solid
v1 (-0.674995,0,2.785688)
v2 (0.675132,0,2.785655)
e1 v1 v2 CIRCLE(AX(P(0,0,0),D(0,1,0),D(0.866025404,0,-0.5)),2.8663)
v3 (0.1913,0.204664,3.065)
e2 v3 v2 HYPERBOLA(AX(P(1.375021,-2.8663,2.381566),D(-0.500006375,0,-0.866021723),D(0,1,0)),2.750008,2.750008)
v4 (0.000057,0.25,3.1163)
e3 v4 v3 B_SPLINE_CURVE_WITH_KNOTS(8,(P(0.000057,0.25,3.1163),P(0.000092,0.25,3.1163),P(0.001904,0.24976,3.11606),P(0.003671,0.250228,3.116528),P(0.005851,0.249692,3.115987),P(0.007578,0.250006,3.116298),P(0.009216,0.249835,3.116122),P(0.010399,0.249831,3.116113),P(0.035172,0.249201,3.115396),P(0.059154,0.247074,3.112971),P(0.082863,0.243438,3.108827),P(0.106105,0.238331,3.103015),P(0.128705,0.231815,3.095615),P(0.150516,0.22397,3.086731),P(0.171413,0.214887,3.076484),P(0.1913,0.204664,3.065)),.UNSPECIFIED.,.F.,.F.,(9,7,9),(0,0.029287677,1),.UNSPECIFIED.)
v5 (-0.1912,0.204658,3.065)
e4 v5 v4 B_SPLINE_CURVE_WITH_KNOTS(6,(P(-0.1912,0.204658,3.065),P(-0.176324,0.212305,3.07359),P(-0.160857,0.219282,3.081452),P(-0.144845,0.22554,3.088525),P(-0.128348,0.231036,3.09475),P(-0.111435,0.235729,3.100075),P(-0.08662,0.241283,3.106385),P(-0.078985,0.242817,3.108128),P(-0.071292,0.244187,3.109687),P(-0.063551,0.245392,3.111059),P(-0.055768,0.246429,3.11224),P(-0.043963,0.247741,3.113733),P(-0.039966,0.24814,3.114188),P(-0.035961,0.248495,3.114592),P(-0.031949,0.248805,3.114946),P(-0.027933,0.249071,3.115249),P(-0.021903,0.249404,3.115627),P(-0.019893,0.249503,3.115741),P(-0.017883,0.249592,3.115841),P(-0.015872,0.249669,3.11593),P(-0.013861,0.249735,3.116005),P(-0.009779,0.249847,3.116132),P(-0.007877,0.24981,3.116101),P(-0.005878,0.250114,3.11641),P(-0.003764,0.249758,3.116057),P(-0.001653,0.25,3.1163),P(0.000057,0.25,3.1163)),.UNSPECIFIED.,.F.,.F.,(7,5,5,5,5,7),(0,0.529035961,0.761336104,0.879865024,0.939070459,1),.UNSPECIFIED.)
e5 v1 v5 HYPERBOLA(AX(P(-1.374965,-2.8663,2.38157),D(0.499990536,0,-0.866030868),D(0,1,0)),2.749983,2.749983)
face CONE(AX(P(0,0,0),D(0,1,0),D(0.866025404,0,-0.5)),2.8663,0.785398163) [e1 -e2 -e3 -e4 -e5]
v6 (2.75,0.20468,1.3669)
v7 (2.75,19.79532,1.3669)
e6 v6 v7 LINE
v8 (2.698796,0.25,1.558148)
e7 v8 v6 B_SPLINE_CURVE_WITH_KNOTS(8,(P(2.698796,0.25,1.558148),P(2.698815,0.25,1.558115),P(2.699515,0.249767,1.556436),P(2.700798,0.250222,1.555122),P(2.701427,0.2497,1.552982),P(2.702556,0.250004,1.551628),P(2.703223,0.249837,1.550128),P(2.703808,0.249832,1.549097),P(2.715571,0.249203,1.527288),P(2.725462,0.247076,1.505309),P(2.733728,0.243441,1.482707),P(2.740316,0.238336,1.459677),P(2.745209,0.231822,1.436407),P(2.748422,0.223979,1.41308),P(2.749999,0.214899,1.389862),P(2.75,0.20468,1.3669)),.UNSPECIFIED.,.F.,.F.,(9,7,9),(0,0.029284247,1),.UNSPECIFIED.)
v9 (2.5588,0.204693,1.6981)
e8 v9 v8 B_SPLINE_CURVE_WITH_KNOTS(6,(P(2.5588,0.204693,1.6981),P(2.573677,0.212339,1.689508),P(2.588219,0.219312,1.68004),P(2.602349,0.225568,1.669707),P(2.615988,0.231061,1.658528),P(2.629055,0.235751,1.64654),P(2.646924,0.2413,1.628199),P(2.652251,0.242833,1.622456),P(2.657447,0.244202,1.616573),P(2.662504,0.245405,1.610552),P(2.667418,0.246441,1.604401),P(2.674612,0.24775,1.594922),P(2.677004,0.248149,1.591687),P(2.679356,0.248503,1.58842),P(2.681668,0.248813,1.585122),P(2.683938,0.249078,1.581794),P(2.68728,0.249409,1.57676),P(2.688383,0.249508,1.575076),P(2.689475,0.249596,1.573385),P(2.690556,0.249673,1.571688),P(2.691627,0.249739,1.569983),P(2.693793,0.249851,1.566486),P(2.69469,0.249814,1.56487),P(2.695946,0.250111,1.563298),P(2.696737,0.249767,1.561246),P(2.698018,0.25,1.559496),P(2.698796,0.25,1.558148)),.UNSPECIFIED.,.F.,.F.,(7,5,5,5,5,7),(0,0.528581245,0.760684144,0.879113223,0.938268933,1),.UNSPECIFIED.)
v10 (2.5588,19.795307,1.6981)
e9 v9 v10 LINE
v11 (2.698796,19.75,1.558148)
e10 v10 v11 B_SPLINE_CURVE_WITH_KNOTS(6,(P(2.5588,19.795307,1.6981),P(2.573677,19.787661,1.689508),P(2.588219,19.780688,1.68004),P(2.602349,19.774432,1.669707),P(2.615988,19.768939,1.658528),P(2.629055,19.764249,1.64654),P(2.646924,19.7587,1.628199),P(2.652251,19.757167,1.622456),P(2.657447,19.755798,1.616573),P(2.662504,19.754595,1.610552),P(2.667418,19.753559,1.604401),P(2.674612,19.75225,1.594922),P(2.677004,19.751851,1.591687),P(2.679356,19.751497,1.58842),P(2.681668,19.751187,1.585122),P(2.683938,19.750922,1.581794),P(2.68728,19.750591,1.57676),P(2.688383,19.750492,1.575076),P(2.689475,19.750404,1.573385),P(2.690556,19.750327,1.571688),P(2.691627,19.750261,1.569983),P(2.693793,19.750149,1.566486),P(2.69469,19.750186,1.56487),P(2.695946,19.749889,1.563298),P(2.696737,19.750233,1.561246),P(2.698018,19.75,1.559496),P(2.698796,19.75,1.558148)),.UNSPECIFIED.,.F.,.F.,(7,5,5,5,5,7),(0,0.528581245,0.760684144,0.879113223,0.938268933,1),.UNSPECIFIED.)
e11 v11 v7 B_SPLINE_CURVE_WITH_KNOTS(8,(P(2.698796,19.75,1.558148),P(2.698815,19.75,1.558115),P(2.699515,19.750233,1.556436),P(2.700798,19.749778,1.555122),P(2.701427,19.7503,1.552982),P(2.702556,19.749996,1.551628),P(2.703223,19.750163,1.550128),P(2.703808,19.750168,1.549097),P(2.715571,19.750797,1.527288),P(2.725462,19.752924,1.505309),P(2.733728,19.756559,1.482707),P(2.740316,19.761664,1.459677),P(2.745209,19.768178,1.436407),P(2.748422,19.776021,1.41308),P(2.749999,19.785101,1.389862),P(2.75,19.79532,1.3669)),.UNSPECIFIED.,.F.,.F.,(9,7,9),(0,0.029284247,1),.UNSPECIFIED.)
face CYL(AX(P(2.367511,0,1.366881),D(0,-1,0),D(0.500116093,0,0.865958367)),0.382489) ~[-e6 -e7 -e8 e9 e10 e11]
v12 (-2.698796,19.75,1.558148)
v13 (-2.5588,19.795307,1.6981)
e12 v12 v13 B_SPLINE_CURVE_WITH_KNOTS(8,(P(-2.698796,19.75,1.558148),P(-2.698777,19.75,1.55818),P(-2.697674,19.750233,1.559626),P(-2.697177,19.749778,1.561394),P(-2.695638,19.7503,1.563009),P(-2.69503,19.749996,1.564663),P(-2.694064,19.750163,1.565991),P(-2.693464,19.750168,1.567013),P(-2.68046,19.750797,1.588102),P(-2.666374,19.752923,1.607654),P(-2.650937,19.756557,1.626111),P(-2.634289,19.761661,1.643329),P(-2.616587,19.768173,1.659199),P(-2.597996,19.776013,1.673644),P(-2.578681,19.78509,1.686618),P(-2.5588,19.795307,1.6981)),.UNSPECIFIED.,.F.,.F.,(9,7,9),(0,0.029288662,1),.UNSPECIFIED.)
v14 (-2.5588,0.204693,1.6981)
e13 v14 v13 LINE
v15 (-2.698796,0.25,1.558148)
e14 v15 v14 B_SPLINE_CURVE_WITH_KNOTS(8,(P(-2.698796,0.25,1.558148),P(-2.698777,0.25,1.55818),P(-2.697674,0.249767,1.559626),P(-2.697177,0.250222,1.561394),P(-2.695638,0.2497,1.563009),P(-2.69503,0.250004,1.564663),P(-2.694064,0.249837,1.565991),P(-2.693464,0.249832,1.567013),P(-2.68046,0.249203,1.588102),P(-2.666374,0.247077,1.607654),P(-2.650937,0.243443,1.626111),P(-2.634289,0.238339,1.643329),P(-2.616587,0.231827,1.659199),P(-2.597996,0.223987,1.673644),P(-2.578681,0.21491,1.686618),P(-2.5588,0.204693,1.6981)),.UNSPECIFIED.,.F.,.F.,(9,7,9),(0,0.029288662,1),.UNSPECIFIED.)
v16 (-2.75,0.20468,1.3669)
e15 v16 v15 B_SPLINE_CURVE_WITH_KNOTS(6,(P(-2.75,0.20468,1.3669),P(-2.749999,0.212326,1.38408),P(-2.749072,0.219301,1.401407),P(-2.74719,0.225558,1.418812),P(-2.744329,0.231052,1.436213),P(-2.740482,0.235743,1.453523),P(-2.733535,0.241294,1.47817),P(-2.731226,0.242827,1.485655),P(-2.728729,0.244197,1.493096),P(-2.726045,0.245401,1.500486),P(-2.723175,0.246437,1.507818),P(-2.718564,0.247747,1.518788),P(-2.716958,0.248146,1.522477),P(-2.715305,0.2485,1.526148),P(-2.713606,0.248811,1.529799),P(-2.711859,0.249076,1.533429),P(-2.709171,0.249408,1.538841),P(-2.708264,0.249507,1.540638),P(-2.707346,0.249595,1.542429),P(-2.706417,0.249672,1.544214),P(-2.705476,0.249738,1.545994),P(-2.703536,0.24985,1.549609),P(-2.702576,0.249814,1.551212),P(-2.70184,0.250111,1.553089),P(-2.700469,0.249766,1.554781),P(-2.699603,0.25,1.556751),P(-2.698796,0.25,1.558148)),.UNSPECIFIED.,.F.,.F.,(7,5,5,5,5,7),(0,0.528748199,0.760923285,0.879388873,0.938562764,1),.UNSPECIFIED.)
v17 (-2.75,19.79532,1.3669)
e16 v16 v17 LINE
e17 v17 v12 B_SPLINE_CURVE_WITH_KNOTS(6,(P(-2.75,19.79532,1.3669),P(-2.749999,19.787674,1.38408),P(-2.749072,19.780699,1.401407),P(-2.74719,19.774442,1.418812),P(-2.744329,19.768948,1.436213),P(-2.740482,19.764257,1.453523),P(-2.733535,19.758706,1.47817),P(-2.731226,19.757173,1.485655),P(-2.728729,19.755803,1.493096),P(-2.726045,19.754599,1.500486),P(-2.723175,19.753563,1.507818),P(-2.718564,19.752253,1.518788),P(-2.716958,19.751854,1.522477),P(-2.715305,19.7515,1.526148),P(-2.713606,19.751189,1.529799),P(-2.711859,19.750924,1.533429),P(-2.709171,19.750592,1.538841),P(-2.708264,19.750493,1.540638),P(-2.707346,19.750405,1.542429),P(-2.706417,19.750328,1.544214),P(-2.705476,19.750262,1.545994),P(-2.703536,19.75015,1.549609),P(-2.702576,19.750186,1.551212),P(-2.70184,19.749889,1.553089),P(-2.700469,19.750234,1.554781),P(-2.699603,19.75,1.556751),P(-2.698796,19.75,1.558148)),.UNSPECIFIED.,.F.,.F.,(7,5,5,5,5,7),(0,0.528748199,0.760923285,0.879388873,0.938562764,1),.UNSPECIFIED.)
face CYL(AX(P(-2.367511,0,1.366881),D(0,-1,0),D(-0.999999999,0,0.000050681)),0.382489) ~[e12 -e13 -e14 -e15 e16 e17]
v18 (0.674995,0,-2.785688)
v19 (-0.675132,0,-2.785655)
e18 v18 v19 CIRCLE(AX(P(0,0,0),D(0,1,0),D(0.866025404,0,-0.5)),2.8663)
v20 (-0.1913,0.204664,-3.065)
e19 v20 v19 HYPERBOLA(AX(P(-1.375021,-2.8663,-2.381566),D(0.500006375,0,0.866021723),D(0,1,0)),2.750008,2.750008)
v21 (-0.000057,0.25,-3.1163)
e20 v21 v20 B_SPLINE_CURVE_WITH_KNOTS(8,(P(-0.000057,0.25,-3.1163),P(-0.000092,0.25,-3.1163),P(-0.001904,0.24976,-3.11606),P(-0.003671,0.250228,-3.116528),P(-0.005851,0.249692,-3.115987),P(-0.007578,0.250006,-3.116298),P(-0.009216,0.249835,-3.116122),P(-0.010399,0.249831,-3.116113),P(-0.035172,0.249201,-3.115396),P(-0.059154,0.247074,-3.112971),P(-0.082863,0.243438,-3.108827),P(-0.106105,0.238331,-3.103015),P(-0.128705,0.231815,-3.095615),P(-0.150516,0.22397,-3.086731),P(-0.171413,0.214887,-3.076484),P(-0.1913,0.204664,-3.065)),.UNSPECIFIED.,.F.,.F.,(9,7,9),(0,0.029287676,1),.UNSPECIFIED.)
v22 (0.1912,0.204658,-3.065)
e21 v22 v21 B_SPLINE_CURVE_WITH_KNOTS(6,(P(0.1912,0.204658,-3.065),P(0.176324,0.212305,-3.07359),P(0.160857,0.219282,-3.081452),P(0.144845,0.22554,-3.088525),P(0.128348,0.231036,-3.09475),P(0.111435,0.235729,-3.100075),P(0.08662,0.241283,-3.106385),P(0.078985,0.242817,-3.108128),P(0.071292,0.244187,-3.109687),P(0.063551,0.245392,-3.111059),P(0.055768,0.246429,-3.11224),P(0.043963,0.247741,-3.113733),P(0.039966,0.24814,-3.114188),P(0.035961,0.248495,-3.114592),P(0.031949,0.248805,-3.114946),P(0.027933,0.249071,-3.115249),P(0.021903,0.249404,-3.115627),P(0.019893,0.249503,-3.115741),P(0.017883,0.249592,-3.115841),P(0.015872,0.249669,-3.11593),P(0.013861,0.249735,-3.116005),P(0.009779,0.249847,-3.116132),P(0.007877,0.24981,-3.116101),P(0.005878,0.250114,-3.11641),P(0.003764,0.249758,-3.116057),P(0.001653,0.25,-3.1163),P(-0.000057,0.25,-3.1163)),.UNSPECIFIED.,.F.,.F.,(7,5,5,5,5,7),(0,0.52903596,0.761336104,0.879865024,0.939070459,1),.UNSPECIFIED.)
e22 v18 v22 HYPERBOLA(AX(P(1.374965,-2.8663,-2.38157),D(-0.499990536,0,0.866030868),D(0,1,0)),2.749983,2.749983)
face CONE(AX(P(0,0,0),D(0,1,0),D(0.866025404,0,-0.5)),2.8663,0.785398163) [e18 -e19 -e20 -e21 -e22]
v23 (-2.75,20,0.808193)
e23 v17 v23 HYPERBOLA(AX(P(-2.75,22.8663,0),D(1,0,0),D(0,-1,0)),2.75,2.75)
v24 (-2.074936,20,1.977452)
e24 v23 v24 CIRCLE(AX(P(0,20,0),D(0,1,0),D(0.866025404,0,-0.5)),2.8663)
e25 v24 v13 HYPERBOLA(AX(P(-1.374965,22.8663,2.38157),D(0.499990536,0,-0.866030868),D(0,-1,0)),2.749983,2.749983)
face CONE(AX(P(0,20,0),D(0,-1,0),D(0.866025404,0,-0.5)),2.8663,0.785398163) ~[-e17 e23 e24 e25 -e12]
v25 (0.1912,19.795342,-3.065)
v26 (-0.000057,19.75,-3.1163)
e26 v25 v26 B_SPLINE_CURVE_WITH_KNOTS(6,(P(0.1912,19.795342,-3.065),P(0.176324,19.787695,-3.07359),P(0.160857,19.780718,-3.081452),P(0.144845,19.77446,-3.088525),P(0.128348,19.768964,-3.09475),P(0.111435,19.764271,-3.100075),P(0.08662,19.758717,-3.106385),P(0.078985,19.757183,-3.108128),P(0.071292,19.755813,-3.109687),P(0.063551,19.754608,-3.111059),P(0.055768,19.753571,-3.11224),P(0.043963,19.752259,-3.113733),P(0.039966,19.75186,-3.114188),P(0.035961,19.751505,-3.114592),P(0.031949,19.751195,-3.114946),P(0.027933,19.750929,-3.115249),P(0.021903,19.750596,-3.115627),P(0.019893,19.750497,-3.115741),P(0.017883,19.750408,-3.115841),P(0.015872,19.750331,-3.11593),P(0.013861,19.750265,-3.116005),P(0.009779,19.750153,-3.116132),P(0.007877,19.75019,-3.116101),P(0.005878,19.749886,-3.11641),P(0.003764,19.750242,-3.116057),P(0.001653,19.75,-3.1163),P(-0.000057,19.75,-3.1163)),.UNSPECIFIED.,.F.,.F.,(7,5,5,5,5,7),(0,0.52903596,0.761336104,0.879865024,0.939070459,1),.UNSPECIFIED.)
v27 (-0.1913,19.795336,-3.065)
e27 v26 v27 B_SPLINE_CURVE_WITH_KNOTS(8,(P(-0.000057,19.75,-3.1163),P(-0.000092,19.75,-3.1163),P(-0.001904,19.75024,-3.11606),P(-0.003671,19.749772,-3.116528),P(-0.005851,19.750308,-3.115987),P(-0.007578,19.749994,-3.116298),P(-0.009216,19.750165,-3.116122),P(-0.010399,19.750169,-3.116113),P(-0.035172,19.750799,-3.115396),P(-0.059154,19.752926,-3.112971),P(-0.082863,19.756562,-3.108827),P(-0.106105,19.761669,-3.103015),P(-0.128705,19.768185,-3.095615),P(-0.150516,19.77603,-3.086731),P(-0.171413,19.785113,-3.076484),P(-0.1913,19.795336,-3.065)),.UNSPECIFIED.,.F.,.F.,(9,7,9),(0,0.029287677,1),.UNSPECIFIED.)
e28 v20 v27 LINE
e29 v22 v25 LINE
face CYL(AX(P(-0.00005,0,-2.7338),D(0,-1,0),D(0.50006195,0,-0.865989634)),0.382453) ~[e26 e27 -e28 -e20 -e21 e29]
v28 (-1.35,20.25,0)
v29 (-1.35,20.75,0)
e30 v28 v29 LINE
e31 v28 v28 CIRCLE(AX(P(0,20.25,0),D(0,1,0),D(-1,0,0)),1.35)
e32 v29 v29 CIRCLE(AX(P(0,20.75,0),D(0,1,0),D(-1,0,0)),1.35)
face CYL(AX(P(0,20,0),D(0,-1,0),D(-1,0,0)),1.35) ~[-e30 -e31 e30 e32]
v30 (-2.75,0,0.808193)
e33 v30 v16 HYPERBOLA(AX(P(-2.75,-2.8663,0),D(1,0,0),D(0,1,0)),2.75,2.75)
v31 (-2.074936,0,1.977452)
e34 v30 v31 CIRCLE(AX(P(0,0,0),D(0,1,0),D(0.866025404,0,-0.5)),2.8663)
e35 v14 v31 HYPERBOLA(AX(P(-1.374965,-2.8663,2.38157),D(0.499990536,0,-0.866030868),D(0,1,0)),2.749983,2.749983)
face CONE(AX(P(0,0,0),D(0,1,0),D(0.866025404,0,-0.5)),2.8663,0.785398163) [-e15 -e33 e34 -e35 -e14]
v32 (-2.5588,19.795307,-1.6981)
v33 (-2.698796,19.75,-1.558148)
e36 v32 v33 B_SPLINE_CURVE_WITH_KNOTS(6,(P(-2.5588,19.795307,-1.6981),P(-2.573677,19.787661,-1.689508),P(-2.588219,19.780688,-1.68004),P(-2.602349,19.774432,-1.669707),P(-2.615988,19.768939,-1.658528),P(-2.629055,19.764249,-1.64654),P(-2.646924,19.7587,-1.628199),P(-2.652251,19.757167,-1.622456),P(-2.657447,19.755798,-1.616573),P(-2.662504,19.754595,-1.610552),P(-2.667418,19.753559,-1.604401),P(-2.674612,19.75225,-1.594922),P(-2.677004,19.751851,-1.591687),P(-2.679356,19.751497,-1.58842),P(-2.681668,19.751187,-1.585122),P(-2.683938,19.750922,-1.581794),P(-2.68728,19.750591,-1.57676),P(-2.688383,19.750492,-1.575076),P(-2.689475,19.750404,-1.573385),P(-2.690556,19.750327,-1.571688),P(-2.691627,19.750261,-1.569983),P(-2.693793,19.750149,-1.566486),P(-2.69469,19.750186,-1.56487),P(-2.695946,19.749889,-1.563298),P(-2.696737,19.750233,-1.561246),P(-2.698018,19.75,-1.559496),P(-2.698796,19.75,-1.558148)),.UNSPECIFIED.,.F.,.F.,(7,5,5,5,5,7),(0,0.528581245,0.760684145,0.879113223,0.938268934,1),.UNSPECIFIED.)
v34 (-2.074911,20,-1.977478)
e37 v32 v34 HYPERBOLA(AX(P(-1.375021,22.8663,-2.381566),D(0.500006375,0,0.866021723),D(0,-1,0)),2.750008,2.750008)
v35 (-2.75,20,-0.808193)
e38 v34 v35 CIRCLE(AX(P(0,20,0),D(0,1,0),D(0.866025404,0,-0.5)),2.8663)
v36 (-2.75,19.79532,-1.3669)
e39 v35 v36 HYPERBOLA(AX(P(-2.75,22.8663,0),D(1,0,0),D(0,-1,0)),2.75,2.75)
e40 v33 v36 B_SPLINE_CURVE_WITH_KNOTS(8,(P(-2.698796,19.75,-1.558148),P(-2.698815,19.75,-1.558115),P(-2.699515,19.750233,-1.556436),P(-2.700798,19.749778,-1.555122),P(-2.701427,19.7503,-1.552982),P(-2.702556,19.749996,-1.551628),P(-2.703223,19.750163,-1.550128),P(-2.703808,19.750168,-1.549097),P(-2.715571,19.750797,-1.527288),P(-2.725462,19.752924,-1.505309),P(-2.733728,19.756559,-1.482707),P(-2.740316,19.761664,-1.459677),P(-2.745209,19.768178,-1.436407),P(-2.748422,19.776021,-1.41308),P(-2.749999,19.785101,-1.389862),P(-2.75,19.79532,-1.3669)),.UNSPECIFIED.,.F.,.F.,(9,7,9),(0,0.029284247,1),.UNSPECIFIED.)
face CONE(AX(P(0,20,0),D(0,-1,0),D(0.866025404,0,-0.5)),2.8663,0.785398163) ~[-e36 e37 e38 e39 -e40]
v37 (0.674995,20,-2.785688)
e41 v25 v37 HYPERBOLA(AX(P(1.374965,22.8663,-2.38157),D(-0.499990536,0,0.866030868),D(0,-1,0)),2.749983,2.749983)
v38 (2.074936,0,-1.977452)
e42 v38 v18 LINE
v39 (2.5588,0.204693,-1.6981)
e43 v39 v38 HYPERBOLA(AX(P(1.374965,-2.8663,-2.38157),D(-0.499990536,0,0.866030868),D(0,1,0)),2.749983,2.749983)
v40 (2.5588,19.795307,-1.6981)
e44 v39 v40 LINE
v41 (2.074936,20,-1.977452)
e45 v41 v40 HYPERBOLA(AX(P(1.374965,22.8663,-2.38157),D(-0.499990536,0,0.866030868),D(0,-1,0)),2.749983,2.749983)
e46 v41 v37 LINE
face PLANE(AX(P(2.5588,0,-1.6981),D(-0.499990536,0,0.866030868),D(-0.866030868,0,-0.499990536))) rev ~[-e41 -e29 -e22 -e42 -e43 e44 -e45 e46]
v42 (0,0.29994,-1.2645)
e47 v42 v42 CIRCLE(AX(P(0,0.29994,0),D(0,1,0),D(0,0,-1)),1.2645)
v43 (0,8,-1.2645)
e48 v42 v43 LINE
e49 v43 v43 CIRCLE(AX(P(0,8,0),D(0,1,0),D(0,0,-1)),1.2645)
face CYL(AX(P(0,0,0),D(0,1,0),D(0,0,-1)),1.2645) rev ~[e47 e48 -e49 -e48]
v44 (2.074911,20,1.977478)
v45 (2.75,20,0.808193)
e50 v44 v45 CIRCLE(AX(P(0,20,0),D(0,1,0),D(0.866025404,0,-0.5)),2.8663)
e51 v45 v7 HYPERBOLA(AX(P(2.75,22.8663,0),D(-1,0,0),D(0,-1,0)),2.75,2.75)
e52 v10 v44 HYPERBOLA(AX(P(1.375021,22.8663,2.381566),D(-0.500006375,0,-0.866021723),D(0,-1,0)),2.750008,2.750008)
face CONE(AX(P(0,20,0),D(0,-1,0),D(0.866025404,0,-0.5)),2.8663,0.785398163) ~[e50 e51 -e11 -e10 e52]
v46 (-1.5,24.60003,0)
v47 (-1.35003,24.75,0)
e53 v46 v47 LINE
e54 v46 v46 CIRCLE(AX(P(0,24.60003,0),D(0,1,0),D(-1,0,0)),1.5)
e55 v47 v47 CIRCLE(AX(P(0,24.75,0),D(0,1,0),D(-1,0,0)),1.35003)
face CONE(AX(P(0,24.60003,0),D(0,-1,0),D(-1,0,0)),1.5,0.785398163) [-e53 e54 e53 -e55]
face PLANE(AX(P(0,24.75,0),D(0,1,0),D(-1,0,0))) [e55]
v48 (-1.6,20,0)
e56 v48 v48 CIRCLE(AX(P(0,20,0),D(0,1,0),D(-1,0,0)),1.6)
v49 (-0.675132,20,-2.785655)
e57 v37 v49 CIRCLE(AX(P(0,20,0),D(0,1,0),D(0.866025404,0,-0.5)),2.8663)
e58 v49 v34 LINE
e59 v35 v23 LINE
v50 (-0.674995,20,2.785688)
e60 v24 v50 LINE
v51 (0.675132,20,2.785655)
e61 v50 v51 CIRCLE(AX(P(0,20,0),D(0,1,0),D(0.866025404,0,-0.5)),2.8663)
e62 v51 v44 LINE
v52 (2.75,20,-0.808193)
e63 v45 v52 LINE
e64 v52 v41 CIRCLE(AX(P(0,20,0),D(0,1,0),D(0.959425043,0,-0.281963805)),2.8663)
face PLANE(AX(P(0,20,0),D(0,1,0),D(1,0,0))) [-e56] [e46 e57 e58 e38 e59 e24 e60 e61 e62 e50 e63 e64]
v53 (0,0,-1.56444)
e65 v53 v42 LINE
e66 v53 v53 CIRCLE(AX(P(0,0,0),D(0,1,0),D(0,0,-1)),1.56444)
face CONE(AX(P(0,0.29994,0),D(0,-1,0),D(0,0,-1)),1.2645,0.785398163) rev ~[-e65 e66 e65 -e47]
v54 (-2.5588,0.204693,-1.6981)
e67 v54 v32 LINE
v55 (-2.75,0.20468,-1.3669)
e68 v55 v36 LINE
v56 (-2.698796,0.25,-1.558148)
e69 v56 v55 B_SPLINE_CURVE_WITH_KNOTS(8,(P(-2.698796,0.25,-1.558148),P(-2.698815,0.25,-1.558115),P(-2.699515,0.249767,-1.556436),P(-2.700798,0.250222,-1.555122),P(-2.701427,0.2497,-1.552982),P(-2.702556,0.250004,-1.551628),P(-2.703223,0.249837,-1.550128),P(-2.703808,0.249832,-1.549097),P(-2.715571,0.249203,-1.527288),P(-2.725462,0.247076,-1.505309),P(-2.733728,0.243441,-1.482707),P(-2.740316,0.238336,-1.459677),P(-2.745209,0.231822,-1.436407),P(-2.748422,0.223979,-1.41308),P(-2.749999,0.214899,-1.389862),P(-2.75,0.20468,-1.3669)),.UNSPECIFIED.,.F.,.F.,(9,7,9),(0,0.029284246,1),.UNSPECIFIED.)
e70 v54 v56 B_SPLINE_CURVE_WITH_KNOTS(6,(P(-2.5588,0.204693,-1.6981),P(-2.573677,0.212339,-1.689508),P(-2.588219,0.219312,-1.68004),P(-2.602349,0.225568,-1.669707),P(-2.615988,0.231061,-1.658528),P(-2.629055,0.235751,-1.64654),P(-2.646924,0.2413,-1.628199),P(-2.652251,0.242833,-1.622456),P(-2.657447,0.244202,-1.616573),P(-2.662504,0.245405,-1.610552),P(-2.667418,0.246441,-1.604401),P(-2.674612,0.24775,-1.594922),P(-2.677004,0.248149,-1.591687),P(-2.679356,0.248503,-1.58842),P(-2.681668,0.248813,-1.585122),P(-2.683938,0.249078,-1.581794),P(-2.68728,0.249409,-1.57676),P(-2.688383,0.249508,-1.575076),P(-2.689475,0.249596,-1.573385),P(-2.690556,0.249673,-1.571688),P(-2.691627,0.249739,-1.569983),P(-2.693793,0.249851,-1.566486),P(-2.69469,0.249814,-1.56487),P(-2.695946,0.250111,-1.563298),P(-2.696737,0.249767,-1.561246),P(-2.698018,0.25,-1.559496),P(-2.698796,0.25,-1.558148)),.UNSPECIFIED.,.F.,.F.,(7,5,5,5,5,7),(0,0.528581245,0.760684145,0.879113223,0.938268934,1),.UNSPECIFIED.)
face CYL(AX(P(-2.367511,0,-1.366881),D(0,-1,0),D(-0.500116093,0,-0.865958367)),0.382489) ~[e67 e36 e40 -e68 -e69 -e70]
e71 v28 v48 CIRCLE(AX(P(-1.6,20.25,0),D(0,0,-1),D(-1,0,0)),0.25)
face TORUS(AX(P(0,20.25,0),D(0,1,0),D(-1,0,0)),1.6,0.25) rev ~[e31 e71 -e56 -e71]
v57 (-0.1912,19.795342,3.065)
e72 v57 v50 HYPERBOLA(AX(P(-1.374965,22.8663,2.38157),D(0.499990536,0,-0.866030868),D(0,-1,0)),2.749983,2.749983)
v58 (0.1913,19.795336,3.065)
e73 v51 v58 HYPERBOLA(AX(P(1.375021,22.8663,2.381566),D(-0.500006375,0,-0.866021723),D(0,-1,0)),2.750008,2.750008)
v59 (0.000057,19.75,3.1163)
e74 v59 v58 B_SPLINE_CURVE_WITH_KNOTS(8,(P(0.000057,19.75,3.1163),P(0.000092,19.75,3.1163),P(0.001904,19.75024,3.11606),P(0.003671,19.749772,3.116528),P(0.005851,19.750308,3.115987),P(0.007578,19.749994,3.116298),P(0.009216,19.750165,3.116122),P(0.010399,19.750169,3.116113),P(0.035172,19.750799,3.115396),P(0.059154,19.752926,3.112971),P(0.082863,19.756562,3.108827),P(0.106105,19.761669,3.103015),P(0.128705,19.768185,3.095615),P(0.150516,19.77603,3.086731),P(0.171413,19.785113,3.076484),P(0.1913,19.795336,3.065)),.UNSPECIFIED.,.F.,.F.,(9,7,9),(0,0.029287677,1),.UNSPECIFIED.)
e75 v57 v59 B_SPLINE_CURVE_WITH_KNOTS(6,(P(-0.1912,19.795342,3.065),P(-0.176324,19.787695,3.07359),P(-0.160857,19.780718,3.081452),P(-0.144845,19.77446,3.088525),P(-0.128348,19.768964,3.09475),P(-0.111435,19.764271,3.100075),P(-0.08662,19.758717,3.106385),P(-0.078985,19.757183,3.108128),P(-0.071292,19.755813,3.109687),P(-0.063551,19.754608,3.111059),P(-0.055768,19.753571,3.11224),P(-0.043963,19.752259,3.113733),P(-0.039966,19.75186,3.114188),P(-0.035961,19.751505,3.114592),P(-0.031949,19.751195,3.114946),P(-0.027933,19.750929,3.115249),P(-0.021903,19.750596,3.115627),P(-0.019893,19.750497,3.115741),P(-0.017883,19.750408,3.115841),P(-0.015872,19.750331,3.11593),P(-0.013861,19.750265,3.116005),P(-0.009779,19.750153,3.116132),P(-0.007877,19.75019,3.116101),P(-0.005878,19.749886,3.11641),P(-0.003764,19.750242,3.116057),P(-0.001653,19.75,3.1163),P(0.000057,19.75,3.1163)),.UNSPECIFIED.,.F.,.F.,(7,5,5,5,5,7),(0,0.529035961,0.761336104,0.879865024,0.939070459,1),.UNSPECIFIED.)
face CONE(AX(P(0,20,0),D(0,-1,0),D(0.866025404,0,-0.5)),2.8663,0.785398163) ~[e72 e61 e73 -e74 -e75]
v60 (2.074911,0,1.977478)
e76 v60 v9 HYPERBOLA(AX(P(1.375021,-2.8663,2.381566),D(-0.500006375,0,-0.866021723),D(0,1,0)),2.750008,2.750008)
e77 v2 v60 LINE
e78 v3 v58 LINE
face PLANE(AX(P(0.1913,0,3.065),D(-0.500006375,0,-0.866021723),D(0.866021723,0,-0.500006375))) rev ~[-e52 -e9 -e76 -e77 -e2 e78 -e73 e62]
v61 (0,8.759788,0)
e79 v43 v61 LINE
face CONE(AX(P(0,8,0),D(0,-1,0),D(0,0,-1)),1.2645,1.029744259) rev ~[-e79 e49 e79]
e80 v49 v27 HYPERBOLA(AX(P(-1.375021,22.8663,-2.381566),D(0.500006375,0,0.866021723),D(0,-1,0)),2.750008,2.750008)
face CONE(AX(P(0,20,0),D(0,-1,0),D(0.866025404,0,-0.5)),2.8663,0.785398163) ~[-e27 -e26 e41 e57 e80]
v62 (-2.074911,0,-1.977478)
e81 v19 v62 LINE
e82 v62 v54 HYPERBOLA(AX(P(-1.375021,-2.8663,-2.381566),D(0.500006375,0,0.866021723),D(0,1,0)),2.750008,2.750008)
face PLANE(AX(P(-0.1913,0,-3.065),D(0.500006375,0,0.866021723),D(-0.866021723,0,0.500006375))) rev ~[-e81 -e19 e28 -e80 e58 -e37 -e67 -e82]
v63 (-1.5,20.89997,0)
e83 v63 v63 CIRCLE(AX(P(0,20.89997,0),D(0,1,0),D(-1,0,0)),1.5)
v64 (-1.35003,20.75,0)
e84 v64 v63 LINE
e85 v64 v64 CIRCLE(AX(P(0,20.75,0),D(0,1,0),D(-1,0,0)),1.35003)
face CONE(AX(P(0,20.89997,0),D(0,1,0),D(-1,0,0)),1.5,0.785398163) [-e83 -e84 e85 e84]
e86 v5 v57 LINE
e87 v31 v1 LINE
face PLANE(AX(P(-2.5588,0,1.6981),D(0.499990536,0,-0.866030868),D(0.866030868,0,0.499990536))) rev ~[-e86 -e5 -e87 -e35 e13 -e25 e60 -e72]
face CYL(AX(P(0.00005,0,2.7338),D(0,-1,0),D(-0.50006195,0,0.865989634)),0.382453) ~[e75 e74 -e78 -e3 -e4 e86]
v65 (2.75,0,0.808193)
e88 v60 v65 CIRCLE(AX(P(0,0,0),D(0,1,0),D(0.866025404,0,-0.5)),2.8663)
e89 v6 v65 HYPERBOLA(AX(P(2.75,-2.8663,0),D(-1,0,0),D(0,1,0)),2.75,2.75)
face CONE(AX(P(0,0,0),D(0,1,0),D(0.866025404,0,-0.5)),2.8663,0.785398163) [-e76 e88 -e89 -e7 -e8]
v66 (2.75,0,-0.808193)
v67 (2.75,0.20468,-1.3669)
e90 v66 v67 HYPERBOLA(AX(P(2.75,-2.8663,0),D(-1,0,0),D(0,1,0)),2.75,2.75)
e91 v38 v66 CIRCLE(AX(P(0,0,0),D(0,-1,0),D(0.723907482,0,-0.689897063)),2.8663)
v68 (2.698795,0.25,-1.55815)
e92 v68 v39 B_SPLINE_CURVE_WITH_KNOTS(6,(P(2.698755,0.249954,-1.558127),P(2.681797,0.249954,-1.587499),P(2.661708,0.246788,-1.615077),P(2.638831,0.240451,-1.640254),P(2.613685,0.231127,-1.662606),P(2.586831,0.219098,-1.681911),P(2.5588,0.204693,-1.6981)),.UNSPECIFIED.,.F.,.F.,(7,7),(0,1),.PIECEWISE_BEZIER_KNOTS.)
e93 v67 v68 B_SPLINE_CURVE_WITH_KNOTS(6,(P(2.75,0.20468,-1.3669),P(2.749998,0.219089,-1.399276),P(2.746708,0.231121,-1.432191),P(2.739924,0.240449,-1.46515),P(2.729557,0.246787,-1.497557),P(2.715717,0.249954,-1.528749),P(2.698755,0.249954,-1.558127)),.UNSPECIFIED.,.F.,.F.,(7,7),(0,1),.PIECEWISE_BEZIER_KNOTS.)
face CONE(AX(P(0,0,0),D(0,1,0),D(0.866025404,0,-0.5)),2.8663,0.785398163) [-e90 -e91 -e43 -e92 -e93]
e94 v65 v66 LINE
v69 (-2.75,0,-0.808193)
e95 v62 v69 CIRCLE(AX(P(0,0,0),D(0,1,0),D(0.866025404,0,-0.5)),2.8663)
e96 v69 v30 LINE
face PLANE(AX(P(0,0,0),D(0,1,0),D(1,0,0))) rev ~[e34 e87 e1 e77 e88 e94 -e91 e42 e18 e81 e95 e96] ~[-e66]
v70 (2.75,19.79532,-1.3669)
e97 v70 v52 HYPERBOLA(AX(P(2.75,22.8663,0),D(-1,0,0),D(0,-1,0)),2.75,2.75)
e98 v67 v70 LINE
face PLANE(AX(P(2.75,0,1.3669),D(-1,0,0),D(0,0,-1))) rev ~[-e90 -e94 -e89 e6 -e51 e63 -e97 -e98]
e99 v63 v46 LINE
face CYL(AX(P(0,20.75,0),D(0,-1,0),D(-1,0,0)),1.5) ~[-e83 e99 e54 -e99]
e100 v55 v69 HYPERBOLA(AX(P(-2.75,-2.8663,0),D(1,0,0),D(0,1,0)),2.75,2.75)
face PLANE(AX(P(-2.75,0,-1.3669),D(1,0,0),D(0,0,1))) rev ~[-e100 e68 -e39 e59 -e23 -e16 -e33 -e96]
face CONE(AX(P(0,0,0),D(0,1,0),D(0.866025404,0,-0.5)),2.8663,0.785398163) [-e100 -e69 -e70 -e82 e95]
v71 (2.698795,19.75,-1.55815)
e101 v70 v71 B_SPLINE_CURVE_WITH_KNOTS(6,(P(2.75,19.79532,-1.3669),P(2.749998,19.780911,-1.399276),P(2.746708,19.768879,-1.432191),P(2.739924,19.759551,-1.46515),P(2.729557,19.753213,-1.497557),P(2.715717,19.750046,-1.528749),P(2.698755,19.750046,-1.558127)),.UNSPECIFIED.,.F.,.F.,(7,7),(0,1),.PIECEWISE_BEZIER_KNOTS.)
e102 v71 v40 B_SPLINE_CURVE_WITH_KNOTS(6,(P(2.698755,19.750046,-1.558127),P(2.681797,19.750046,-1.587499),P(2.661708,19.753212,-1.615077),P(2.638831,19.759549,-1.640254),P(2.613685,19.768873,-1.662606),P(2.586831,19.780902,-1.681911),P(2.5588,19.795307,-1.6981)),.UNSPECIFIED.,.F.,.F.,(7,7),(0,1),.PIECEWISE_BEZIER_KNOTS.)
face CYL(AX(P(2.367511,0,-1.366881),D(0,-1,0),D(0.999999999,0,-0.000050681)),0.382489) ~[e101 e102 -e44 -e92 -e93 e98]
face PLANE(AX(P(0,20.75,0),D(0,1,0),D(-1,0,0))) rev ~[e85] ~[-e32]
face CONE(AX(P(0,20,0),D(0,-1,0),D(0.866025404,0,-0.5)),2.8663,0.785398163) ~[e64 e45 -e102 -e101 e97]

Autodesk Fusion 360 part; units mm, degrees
sketch "M3 Standoff Profile" plane through (0, 0, 0) normal (0, 1, 0) x (1, 0, 0)
  arc A0 (-2.75, -1.3669) -> (-2.5588, -1.6981) centre (-2.3675, -1.3669) ccw
  arc A1 (0.1912, 3.065) -> (-0.1913, 3.065) centre (0, 2.7338) ccw
  arc A2 (-0.1912, -3.065) -> (0.1913, -3.065) centre (0, -2.7338) ccw
  arc A3 (2.5588, -1.6981) -> (2.75, -1.3669) centre (2.3675, -1.3669) ccw
  line L0 (2.75, -1.3669) -> (2.75, 1.3669)
  line L1 (-2.75, 1.3669) -> (-2.75, -1.3669)
  arc A4 (2.75, 1.3669) -> (2.5588, 1.6981) centre (2.3675, 1.3669) ccw
  line L2 (-0.1913, 3.065) -> (-2.5588, 1.6981)
  line L3 (2.5587, 1.6981) -> (0.1912, 3.065)
  line L4 (-2.5588, -1.6981) -> (-0.1912, -3.065)
  line L5 (0.1913, -3.065) -> (2.5588, -1.6981)
  arc A5 (-2.5588, 1.6981) -> (-2.75, 1.3669) centre (-2.3675, 1.3669) ccw
  line L6 (0, 2.7338) -> (0, -2.7338) construction
  dimension "d28" = 120
  dimension "d29" = 0.3825
  dimension "d30" = 2.75
  dimension "d31" = 5.5
  dimension "d32" = 120
extrude "Extrude1" add sketch "M3 Standoff Profile" along normal blind 20
hole "Hole1" at (0, 0, 0) direction (0, 1, 0) diameter 2.529 depth 8 tip angle 118
ref_plane "WorkPlane1" through (0, 10, 0) normal (0.5, 0, 0.866) x (0.866, 0, -0.5)
sketch "Sketch2" plane through (0, 0, 0) normal (0.5, 0, 0.866) x (0.866, 0, -0.5)
  line L0 (-3.065, 0) -> (-1.6981, 0)
  line L1 (-1.6981, 0) -> (-1.6981, 20)
  line L2 (-1.6981, 20) -> (-3.065, 20)
  line L3 (-3.065, 20) -> (-3.065, 0)
  line L4 (1.6981, 0) -> (3.065, 0)
  line L5 (3.065, 20) -> (1.6981, 20)
  line L6 (1.6981, 20) -> (1.6981, 0)
  line L7 (-3.065, 0) -> (-3.1163, 0)
  line L8 (-3.065, 0) -> (-3.065, 20)
  line L9 (-3.065, 20) -> (-3.1163, 20)
  line L10 (-3.065, 20) -> (-3.065, 0)
  line L11 (3.1163, 0) -> (3.065, 0)
  line L12 (3.1163, 20) -> (3.065, 20)
  line L13 (3.065, 20) -> (3.065, 0) construction
  line L14 (1.6981, 0) -> (1.3669, 0)
  line L15 (1.6981, 0) -> (1.6981, 20)
  line L16 (1.6981, 20) -> (1.3669, 20)
  line L17 (1.3669, 20) -> (1.3669, 0)
  line L18 (3.1163, 0) -> (3.1163, 0.25)
  line L19 (3.1163, 0) -> (2.8663, 0)
  line L20 (2.8663, 0) -> (3.1163, 0.25)
  line L21 (3.1163, 20) -> (2.8663, 20)
  line L22 (3.1163, 20) -> (3.1163, 19.75)
  line L23 (2.8663, 20) -> (3.1163, 19.75)
  dimension "d12" = 0.25
  dimension "d13" = 0.25
  dimension "d14" = 0.25
  dimension "d15" = 0.25
revolve "Revolve1" cut sketch "Sketch2" angle 360 about axis through (0, 1.75, 0) along (0, 1, 0) contours L4 L11 L18 L19 L20 | L5 L12 L21 L22 L23
sketch "Sketch3" plane through (0, 20, 0) normal (0, 1, 0) x (-1, 0, 0)
  arc A0 (-0.6752, -2.7856) -> (0.6752, -2.7856) centre (0, 0) ccw
  line L0 (0.6752, -2.7856) -> (2.0748, -1.9776)
  arc A1 (2.0748, -1.9776) -> (2.75, -0.808) centre (0, 0) ccw
  line L1 (2.75, -0.808) -> (2.75, 0.808)
  arc A2 (2.75, 0.808) -> (2.0748, 1.9776) centre (0, 0) ccw
  line L2 (2.0748, 1.9776) -> (0.6752, 2.7856)
  arc A3 (0.6752, 2.7856) -> (-0.6752, 2.7856) centre (0, 0) ccw
  line L3 (-0.6752, 2.7856) -> (-2.0748, 1.9776)
  arc A4 (-2.0748, 1.9776) -> (-2.75, 0.808) centre (0, 0) ccw
  line L4 (-2.75, 0.808) -> (-2.75, -0.808)
  arc A5 (-2.75, -0.808) -> (-2.0748, -1.9776) centre (0, 0) ccw
  line L5 (-2.0748, -1.9776) -> (-0.6752, -2.7856)
  circle A6 centre (0, 0) radius 1.5
  circle A7 centre (0, 0) radius 1.35
  dimension "d17" = 3
  dimension "d18" = 2.7
extrude "Extrude2" add sketch "Sketch3" along normal blind 0.75 contours A7
extrude "Extrude3" add sketch "Sketch3" along normal blind 4 from surface at 0.75 contours A6 | A7
fillet "Fillet1" radius 0.25 1 edges at (1.2586, 20, 0.4882)
chamfer "Chamfer3" distance 0.15 angle 45 2 edges at (1.3985, 20.75, -0.5424) (1.3985, 24.75, -0.5424)
chamfer "Chamfer3" distance 0.3 angle 45 1 edges at (0.4573, 0, 1.1789)
equation "Thread_Length = 4 mm"
equation "Spacing = 20 mm"
equation "d3 = Spacing"
equation "d22 = Thread_Length"
equation "d30 = Hex_Width / 2"
equation "d31 = d30 * 2"
equation "d32 = d28"
equation "Hex_Width = 5.5 mm"
properties part number "20-4 M-F Standoff"
